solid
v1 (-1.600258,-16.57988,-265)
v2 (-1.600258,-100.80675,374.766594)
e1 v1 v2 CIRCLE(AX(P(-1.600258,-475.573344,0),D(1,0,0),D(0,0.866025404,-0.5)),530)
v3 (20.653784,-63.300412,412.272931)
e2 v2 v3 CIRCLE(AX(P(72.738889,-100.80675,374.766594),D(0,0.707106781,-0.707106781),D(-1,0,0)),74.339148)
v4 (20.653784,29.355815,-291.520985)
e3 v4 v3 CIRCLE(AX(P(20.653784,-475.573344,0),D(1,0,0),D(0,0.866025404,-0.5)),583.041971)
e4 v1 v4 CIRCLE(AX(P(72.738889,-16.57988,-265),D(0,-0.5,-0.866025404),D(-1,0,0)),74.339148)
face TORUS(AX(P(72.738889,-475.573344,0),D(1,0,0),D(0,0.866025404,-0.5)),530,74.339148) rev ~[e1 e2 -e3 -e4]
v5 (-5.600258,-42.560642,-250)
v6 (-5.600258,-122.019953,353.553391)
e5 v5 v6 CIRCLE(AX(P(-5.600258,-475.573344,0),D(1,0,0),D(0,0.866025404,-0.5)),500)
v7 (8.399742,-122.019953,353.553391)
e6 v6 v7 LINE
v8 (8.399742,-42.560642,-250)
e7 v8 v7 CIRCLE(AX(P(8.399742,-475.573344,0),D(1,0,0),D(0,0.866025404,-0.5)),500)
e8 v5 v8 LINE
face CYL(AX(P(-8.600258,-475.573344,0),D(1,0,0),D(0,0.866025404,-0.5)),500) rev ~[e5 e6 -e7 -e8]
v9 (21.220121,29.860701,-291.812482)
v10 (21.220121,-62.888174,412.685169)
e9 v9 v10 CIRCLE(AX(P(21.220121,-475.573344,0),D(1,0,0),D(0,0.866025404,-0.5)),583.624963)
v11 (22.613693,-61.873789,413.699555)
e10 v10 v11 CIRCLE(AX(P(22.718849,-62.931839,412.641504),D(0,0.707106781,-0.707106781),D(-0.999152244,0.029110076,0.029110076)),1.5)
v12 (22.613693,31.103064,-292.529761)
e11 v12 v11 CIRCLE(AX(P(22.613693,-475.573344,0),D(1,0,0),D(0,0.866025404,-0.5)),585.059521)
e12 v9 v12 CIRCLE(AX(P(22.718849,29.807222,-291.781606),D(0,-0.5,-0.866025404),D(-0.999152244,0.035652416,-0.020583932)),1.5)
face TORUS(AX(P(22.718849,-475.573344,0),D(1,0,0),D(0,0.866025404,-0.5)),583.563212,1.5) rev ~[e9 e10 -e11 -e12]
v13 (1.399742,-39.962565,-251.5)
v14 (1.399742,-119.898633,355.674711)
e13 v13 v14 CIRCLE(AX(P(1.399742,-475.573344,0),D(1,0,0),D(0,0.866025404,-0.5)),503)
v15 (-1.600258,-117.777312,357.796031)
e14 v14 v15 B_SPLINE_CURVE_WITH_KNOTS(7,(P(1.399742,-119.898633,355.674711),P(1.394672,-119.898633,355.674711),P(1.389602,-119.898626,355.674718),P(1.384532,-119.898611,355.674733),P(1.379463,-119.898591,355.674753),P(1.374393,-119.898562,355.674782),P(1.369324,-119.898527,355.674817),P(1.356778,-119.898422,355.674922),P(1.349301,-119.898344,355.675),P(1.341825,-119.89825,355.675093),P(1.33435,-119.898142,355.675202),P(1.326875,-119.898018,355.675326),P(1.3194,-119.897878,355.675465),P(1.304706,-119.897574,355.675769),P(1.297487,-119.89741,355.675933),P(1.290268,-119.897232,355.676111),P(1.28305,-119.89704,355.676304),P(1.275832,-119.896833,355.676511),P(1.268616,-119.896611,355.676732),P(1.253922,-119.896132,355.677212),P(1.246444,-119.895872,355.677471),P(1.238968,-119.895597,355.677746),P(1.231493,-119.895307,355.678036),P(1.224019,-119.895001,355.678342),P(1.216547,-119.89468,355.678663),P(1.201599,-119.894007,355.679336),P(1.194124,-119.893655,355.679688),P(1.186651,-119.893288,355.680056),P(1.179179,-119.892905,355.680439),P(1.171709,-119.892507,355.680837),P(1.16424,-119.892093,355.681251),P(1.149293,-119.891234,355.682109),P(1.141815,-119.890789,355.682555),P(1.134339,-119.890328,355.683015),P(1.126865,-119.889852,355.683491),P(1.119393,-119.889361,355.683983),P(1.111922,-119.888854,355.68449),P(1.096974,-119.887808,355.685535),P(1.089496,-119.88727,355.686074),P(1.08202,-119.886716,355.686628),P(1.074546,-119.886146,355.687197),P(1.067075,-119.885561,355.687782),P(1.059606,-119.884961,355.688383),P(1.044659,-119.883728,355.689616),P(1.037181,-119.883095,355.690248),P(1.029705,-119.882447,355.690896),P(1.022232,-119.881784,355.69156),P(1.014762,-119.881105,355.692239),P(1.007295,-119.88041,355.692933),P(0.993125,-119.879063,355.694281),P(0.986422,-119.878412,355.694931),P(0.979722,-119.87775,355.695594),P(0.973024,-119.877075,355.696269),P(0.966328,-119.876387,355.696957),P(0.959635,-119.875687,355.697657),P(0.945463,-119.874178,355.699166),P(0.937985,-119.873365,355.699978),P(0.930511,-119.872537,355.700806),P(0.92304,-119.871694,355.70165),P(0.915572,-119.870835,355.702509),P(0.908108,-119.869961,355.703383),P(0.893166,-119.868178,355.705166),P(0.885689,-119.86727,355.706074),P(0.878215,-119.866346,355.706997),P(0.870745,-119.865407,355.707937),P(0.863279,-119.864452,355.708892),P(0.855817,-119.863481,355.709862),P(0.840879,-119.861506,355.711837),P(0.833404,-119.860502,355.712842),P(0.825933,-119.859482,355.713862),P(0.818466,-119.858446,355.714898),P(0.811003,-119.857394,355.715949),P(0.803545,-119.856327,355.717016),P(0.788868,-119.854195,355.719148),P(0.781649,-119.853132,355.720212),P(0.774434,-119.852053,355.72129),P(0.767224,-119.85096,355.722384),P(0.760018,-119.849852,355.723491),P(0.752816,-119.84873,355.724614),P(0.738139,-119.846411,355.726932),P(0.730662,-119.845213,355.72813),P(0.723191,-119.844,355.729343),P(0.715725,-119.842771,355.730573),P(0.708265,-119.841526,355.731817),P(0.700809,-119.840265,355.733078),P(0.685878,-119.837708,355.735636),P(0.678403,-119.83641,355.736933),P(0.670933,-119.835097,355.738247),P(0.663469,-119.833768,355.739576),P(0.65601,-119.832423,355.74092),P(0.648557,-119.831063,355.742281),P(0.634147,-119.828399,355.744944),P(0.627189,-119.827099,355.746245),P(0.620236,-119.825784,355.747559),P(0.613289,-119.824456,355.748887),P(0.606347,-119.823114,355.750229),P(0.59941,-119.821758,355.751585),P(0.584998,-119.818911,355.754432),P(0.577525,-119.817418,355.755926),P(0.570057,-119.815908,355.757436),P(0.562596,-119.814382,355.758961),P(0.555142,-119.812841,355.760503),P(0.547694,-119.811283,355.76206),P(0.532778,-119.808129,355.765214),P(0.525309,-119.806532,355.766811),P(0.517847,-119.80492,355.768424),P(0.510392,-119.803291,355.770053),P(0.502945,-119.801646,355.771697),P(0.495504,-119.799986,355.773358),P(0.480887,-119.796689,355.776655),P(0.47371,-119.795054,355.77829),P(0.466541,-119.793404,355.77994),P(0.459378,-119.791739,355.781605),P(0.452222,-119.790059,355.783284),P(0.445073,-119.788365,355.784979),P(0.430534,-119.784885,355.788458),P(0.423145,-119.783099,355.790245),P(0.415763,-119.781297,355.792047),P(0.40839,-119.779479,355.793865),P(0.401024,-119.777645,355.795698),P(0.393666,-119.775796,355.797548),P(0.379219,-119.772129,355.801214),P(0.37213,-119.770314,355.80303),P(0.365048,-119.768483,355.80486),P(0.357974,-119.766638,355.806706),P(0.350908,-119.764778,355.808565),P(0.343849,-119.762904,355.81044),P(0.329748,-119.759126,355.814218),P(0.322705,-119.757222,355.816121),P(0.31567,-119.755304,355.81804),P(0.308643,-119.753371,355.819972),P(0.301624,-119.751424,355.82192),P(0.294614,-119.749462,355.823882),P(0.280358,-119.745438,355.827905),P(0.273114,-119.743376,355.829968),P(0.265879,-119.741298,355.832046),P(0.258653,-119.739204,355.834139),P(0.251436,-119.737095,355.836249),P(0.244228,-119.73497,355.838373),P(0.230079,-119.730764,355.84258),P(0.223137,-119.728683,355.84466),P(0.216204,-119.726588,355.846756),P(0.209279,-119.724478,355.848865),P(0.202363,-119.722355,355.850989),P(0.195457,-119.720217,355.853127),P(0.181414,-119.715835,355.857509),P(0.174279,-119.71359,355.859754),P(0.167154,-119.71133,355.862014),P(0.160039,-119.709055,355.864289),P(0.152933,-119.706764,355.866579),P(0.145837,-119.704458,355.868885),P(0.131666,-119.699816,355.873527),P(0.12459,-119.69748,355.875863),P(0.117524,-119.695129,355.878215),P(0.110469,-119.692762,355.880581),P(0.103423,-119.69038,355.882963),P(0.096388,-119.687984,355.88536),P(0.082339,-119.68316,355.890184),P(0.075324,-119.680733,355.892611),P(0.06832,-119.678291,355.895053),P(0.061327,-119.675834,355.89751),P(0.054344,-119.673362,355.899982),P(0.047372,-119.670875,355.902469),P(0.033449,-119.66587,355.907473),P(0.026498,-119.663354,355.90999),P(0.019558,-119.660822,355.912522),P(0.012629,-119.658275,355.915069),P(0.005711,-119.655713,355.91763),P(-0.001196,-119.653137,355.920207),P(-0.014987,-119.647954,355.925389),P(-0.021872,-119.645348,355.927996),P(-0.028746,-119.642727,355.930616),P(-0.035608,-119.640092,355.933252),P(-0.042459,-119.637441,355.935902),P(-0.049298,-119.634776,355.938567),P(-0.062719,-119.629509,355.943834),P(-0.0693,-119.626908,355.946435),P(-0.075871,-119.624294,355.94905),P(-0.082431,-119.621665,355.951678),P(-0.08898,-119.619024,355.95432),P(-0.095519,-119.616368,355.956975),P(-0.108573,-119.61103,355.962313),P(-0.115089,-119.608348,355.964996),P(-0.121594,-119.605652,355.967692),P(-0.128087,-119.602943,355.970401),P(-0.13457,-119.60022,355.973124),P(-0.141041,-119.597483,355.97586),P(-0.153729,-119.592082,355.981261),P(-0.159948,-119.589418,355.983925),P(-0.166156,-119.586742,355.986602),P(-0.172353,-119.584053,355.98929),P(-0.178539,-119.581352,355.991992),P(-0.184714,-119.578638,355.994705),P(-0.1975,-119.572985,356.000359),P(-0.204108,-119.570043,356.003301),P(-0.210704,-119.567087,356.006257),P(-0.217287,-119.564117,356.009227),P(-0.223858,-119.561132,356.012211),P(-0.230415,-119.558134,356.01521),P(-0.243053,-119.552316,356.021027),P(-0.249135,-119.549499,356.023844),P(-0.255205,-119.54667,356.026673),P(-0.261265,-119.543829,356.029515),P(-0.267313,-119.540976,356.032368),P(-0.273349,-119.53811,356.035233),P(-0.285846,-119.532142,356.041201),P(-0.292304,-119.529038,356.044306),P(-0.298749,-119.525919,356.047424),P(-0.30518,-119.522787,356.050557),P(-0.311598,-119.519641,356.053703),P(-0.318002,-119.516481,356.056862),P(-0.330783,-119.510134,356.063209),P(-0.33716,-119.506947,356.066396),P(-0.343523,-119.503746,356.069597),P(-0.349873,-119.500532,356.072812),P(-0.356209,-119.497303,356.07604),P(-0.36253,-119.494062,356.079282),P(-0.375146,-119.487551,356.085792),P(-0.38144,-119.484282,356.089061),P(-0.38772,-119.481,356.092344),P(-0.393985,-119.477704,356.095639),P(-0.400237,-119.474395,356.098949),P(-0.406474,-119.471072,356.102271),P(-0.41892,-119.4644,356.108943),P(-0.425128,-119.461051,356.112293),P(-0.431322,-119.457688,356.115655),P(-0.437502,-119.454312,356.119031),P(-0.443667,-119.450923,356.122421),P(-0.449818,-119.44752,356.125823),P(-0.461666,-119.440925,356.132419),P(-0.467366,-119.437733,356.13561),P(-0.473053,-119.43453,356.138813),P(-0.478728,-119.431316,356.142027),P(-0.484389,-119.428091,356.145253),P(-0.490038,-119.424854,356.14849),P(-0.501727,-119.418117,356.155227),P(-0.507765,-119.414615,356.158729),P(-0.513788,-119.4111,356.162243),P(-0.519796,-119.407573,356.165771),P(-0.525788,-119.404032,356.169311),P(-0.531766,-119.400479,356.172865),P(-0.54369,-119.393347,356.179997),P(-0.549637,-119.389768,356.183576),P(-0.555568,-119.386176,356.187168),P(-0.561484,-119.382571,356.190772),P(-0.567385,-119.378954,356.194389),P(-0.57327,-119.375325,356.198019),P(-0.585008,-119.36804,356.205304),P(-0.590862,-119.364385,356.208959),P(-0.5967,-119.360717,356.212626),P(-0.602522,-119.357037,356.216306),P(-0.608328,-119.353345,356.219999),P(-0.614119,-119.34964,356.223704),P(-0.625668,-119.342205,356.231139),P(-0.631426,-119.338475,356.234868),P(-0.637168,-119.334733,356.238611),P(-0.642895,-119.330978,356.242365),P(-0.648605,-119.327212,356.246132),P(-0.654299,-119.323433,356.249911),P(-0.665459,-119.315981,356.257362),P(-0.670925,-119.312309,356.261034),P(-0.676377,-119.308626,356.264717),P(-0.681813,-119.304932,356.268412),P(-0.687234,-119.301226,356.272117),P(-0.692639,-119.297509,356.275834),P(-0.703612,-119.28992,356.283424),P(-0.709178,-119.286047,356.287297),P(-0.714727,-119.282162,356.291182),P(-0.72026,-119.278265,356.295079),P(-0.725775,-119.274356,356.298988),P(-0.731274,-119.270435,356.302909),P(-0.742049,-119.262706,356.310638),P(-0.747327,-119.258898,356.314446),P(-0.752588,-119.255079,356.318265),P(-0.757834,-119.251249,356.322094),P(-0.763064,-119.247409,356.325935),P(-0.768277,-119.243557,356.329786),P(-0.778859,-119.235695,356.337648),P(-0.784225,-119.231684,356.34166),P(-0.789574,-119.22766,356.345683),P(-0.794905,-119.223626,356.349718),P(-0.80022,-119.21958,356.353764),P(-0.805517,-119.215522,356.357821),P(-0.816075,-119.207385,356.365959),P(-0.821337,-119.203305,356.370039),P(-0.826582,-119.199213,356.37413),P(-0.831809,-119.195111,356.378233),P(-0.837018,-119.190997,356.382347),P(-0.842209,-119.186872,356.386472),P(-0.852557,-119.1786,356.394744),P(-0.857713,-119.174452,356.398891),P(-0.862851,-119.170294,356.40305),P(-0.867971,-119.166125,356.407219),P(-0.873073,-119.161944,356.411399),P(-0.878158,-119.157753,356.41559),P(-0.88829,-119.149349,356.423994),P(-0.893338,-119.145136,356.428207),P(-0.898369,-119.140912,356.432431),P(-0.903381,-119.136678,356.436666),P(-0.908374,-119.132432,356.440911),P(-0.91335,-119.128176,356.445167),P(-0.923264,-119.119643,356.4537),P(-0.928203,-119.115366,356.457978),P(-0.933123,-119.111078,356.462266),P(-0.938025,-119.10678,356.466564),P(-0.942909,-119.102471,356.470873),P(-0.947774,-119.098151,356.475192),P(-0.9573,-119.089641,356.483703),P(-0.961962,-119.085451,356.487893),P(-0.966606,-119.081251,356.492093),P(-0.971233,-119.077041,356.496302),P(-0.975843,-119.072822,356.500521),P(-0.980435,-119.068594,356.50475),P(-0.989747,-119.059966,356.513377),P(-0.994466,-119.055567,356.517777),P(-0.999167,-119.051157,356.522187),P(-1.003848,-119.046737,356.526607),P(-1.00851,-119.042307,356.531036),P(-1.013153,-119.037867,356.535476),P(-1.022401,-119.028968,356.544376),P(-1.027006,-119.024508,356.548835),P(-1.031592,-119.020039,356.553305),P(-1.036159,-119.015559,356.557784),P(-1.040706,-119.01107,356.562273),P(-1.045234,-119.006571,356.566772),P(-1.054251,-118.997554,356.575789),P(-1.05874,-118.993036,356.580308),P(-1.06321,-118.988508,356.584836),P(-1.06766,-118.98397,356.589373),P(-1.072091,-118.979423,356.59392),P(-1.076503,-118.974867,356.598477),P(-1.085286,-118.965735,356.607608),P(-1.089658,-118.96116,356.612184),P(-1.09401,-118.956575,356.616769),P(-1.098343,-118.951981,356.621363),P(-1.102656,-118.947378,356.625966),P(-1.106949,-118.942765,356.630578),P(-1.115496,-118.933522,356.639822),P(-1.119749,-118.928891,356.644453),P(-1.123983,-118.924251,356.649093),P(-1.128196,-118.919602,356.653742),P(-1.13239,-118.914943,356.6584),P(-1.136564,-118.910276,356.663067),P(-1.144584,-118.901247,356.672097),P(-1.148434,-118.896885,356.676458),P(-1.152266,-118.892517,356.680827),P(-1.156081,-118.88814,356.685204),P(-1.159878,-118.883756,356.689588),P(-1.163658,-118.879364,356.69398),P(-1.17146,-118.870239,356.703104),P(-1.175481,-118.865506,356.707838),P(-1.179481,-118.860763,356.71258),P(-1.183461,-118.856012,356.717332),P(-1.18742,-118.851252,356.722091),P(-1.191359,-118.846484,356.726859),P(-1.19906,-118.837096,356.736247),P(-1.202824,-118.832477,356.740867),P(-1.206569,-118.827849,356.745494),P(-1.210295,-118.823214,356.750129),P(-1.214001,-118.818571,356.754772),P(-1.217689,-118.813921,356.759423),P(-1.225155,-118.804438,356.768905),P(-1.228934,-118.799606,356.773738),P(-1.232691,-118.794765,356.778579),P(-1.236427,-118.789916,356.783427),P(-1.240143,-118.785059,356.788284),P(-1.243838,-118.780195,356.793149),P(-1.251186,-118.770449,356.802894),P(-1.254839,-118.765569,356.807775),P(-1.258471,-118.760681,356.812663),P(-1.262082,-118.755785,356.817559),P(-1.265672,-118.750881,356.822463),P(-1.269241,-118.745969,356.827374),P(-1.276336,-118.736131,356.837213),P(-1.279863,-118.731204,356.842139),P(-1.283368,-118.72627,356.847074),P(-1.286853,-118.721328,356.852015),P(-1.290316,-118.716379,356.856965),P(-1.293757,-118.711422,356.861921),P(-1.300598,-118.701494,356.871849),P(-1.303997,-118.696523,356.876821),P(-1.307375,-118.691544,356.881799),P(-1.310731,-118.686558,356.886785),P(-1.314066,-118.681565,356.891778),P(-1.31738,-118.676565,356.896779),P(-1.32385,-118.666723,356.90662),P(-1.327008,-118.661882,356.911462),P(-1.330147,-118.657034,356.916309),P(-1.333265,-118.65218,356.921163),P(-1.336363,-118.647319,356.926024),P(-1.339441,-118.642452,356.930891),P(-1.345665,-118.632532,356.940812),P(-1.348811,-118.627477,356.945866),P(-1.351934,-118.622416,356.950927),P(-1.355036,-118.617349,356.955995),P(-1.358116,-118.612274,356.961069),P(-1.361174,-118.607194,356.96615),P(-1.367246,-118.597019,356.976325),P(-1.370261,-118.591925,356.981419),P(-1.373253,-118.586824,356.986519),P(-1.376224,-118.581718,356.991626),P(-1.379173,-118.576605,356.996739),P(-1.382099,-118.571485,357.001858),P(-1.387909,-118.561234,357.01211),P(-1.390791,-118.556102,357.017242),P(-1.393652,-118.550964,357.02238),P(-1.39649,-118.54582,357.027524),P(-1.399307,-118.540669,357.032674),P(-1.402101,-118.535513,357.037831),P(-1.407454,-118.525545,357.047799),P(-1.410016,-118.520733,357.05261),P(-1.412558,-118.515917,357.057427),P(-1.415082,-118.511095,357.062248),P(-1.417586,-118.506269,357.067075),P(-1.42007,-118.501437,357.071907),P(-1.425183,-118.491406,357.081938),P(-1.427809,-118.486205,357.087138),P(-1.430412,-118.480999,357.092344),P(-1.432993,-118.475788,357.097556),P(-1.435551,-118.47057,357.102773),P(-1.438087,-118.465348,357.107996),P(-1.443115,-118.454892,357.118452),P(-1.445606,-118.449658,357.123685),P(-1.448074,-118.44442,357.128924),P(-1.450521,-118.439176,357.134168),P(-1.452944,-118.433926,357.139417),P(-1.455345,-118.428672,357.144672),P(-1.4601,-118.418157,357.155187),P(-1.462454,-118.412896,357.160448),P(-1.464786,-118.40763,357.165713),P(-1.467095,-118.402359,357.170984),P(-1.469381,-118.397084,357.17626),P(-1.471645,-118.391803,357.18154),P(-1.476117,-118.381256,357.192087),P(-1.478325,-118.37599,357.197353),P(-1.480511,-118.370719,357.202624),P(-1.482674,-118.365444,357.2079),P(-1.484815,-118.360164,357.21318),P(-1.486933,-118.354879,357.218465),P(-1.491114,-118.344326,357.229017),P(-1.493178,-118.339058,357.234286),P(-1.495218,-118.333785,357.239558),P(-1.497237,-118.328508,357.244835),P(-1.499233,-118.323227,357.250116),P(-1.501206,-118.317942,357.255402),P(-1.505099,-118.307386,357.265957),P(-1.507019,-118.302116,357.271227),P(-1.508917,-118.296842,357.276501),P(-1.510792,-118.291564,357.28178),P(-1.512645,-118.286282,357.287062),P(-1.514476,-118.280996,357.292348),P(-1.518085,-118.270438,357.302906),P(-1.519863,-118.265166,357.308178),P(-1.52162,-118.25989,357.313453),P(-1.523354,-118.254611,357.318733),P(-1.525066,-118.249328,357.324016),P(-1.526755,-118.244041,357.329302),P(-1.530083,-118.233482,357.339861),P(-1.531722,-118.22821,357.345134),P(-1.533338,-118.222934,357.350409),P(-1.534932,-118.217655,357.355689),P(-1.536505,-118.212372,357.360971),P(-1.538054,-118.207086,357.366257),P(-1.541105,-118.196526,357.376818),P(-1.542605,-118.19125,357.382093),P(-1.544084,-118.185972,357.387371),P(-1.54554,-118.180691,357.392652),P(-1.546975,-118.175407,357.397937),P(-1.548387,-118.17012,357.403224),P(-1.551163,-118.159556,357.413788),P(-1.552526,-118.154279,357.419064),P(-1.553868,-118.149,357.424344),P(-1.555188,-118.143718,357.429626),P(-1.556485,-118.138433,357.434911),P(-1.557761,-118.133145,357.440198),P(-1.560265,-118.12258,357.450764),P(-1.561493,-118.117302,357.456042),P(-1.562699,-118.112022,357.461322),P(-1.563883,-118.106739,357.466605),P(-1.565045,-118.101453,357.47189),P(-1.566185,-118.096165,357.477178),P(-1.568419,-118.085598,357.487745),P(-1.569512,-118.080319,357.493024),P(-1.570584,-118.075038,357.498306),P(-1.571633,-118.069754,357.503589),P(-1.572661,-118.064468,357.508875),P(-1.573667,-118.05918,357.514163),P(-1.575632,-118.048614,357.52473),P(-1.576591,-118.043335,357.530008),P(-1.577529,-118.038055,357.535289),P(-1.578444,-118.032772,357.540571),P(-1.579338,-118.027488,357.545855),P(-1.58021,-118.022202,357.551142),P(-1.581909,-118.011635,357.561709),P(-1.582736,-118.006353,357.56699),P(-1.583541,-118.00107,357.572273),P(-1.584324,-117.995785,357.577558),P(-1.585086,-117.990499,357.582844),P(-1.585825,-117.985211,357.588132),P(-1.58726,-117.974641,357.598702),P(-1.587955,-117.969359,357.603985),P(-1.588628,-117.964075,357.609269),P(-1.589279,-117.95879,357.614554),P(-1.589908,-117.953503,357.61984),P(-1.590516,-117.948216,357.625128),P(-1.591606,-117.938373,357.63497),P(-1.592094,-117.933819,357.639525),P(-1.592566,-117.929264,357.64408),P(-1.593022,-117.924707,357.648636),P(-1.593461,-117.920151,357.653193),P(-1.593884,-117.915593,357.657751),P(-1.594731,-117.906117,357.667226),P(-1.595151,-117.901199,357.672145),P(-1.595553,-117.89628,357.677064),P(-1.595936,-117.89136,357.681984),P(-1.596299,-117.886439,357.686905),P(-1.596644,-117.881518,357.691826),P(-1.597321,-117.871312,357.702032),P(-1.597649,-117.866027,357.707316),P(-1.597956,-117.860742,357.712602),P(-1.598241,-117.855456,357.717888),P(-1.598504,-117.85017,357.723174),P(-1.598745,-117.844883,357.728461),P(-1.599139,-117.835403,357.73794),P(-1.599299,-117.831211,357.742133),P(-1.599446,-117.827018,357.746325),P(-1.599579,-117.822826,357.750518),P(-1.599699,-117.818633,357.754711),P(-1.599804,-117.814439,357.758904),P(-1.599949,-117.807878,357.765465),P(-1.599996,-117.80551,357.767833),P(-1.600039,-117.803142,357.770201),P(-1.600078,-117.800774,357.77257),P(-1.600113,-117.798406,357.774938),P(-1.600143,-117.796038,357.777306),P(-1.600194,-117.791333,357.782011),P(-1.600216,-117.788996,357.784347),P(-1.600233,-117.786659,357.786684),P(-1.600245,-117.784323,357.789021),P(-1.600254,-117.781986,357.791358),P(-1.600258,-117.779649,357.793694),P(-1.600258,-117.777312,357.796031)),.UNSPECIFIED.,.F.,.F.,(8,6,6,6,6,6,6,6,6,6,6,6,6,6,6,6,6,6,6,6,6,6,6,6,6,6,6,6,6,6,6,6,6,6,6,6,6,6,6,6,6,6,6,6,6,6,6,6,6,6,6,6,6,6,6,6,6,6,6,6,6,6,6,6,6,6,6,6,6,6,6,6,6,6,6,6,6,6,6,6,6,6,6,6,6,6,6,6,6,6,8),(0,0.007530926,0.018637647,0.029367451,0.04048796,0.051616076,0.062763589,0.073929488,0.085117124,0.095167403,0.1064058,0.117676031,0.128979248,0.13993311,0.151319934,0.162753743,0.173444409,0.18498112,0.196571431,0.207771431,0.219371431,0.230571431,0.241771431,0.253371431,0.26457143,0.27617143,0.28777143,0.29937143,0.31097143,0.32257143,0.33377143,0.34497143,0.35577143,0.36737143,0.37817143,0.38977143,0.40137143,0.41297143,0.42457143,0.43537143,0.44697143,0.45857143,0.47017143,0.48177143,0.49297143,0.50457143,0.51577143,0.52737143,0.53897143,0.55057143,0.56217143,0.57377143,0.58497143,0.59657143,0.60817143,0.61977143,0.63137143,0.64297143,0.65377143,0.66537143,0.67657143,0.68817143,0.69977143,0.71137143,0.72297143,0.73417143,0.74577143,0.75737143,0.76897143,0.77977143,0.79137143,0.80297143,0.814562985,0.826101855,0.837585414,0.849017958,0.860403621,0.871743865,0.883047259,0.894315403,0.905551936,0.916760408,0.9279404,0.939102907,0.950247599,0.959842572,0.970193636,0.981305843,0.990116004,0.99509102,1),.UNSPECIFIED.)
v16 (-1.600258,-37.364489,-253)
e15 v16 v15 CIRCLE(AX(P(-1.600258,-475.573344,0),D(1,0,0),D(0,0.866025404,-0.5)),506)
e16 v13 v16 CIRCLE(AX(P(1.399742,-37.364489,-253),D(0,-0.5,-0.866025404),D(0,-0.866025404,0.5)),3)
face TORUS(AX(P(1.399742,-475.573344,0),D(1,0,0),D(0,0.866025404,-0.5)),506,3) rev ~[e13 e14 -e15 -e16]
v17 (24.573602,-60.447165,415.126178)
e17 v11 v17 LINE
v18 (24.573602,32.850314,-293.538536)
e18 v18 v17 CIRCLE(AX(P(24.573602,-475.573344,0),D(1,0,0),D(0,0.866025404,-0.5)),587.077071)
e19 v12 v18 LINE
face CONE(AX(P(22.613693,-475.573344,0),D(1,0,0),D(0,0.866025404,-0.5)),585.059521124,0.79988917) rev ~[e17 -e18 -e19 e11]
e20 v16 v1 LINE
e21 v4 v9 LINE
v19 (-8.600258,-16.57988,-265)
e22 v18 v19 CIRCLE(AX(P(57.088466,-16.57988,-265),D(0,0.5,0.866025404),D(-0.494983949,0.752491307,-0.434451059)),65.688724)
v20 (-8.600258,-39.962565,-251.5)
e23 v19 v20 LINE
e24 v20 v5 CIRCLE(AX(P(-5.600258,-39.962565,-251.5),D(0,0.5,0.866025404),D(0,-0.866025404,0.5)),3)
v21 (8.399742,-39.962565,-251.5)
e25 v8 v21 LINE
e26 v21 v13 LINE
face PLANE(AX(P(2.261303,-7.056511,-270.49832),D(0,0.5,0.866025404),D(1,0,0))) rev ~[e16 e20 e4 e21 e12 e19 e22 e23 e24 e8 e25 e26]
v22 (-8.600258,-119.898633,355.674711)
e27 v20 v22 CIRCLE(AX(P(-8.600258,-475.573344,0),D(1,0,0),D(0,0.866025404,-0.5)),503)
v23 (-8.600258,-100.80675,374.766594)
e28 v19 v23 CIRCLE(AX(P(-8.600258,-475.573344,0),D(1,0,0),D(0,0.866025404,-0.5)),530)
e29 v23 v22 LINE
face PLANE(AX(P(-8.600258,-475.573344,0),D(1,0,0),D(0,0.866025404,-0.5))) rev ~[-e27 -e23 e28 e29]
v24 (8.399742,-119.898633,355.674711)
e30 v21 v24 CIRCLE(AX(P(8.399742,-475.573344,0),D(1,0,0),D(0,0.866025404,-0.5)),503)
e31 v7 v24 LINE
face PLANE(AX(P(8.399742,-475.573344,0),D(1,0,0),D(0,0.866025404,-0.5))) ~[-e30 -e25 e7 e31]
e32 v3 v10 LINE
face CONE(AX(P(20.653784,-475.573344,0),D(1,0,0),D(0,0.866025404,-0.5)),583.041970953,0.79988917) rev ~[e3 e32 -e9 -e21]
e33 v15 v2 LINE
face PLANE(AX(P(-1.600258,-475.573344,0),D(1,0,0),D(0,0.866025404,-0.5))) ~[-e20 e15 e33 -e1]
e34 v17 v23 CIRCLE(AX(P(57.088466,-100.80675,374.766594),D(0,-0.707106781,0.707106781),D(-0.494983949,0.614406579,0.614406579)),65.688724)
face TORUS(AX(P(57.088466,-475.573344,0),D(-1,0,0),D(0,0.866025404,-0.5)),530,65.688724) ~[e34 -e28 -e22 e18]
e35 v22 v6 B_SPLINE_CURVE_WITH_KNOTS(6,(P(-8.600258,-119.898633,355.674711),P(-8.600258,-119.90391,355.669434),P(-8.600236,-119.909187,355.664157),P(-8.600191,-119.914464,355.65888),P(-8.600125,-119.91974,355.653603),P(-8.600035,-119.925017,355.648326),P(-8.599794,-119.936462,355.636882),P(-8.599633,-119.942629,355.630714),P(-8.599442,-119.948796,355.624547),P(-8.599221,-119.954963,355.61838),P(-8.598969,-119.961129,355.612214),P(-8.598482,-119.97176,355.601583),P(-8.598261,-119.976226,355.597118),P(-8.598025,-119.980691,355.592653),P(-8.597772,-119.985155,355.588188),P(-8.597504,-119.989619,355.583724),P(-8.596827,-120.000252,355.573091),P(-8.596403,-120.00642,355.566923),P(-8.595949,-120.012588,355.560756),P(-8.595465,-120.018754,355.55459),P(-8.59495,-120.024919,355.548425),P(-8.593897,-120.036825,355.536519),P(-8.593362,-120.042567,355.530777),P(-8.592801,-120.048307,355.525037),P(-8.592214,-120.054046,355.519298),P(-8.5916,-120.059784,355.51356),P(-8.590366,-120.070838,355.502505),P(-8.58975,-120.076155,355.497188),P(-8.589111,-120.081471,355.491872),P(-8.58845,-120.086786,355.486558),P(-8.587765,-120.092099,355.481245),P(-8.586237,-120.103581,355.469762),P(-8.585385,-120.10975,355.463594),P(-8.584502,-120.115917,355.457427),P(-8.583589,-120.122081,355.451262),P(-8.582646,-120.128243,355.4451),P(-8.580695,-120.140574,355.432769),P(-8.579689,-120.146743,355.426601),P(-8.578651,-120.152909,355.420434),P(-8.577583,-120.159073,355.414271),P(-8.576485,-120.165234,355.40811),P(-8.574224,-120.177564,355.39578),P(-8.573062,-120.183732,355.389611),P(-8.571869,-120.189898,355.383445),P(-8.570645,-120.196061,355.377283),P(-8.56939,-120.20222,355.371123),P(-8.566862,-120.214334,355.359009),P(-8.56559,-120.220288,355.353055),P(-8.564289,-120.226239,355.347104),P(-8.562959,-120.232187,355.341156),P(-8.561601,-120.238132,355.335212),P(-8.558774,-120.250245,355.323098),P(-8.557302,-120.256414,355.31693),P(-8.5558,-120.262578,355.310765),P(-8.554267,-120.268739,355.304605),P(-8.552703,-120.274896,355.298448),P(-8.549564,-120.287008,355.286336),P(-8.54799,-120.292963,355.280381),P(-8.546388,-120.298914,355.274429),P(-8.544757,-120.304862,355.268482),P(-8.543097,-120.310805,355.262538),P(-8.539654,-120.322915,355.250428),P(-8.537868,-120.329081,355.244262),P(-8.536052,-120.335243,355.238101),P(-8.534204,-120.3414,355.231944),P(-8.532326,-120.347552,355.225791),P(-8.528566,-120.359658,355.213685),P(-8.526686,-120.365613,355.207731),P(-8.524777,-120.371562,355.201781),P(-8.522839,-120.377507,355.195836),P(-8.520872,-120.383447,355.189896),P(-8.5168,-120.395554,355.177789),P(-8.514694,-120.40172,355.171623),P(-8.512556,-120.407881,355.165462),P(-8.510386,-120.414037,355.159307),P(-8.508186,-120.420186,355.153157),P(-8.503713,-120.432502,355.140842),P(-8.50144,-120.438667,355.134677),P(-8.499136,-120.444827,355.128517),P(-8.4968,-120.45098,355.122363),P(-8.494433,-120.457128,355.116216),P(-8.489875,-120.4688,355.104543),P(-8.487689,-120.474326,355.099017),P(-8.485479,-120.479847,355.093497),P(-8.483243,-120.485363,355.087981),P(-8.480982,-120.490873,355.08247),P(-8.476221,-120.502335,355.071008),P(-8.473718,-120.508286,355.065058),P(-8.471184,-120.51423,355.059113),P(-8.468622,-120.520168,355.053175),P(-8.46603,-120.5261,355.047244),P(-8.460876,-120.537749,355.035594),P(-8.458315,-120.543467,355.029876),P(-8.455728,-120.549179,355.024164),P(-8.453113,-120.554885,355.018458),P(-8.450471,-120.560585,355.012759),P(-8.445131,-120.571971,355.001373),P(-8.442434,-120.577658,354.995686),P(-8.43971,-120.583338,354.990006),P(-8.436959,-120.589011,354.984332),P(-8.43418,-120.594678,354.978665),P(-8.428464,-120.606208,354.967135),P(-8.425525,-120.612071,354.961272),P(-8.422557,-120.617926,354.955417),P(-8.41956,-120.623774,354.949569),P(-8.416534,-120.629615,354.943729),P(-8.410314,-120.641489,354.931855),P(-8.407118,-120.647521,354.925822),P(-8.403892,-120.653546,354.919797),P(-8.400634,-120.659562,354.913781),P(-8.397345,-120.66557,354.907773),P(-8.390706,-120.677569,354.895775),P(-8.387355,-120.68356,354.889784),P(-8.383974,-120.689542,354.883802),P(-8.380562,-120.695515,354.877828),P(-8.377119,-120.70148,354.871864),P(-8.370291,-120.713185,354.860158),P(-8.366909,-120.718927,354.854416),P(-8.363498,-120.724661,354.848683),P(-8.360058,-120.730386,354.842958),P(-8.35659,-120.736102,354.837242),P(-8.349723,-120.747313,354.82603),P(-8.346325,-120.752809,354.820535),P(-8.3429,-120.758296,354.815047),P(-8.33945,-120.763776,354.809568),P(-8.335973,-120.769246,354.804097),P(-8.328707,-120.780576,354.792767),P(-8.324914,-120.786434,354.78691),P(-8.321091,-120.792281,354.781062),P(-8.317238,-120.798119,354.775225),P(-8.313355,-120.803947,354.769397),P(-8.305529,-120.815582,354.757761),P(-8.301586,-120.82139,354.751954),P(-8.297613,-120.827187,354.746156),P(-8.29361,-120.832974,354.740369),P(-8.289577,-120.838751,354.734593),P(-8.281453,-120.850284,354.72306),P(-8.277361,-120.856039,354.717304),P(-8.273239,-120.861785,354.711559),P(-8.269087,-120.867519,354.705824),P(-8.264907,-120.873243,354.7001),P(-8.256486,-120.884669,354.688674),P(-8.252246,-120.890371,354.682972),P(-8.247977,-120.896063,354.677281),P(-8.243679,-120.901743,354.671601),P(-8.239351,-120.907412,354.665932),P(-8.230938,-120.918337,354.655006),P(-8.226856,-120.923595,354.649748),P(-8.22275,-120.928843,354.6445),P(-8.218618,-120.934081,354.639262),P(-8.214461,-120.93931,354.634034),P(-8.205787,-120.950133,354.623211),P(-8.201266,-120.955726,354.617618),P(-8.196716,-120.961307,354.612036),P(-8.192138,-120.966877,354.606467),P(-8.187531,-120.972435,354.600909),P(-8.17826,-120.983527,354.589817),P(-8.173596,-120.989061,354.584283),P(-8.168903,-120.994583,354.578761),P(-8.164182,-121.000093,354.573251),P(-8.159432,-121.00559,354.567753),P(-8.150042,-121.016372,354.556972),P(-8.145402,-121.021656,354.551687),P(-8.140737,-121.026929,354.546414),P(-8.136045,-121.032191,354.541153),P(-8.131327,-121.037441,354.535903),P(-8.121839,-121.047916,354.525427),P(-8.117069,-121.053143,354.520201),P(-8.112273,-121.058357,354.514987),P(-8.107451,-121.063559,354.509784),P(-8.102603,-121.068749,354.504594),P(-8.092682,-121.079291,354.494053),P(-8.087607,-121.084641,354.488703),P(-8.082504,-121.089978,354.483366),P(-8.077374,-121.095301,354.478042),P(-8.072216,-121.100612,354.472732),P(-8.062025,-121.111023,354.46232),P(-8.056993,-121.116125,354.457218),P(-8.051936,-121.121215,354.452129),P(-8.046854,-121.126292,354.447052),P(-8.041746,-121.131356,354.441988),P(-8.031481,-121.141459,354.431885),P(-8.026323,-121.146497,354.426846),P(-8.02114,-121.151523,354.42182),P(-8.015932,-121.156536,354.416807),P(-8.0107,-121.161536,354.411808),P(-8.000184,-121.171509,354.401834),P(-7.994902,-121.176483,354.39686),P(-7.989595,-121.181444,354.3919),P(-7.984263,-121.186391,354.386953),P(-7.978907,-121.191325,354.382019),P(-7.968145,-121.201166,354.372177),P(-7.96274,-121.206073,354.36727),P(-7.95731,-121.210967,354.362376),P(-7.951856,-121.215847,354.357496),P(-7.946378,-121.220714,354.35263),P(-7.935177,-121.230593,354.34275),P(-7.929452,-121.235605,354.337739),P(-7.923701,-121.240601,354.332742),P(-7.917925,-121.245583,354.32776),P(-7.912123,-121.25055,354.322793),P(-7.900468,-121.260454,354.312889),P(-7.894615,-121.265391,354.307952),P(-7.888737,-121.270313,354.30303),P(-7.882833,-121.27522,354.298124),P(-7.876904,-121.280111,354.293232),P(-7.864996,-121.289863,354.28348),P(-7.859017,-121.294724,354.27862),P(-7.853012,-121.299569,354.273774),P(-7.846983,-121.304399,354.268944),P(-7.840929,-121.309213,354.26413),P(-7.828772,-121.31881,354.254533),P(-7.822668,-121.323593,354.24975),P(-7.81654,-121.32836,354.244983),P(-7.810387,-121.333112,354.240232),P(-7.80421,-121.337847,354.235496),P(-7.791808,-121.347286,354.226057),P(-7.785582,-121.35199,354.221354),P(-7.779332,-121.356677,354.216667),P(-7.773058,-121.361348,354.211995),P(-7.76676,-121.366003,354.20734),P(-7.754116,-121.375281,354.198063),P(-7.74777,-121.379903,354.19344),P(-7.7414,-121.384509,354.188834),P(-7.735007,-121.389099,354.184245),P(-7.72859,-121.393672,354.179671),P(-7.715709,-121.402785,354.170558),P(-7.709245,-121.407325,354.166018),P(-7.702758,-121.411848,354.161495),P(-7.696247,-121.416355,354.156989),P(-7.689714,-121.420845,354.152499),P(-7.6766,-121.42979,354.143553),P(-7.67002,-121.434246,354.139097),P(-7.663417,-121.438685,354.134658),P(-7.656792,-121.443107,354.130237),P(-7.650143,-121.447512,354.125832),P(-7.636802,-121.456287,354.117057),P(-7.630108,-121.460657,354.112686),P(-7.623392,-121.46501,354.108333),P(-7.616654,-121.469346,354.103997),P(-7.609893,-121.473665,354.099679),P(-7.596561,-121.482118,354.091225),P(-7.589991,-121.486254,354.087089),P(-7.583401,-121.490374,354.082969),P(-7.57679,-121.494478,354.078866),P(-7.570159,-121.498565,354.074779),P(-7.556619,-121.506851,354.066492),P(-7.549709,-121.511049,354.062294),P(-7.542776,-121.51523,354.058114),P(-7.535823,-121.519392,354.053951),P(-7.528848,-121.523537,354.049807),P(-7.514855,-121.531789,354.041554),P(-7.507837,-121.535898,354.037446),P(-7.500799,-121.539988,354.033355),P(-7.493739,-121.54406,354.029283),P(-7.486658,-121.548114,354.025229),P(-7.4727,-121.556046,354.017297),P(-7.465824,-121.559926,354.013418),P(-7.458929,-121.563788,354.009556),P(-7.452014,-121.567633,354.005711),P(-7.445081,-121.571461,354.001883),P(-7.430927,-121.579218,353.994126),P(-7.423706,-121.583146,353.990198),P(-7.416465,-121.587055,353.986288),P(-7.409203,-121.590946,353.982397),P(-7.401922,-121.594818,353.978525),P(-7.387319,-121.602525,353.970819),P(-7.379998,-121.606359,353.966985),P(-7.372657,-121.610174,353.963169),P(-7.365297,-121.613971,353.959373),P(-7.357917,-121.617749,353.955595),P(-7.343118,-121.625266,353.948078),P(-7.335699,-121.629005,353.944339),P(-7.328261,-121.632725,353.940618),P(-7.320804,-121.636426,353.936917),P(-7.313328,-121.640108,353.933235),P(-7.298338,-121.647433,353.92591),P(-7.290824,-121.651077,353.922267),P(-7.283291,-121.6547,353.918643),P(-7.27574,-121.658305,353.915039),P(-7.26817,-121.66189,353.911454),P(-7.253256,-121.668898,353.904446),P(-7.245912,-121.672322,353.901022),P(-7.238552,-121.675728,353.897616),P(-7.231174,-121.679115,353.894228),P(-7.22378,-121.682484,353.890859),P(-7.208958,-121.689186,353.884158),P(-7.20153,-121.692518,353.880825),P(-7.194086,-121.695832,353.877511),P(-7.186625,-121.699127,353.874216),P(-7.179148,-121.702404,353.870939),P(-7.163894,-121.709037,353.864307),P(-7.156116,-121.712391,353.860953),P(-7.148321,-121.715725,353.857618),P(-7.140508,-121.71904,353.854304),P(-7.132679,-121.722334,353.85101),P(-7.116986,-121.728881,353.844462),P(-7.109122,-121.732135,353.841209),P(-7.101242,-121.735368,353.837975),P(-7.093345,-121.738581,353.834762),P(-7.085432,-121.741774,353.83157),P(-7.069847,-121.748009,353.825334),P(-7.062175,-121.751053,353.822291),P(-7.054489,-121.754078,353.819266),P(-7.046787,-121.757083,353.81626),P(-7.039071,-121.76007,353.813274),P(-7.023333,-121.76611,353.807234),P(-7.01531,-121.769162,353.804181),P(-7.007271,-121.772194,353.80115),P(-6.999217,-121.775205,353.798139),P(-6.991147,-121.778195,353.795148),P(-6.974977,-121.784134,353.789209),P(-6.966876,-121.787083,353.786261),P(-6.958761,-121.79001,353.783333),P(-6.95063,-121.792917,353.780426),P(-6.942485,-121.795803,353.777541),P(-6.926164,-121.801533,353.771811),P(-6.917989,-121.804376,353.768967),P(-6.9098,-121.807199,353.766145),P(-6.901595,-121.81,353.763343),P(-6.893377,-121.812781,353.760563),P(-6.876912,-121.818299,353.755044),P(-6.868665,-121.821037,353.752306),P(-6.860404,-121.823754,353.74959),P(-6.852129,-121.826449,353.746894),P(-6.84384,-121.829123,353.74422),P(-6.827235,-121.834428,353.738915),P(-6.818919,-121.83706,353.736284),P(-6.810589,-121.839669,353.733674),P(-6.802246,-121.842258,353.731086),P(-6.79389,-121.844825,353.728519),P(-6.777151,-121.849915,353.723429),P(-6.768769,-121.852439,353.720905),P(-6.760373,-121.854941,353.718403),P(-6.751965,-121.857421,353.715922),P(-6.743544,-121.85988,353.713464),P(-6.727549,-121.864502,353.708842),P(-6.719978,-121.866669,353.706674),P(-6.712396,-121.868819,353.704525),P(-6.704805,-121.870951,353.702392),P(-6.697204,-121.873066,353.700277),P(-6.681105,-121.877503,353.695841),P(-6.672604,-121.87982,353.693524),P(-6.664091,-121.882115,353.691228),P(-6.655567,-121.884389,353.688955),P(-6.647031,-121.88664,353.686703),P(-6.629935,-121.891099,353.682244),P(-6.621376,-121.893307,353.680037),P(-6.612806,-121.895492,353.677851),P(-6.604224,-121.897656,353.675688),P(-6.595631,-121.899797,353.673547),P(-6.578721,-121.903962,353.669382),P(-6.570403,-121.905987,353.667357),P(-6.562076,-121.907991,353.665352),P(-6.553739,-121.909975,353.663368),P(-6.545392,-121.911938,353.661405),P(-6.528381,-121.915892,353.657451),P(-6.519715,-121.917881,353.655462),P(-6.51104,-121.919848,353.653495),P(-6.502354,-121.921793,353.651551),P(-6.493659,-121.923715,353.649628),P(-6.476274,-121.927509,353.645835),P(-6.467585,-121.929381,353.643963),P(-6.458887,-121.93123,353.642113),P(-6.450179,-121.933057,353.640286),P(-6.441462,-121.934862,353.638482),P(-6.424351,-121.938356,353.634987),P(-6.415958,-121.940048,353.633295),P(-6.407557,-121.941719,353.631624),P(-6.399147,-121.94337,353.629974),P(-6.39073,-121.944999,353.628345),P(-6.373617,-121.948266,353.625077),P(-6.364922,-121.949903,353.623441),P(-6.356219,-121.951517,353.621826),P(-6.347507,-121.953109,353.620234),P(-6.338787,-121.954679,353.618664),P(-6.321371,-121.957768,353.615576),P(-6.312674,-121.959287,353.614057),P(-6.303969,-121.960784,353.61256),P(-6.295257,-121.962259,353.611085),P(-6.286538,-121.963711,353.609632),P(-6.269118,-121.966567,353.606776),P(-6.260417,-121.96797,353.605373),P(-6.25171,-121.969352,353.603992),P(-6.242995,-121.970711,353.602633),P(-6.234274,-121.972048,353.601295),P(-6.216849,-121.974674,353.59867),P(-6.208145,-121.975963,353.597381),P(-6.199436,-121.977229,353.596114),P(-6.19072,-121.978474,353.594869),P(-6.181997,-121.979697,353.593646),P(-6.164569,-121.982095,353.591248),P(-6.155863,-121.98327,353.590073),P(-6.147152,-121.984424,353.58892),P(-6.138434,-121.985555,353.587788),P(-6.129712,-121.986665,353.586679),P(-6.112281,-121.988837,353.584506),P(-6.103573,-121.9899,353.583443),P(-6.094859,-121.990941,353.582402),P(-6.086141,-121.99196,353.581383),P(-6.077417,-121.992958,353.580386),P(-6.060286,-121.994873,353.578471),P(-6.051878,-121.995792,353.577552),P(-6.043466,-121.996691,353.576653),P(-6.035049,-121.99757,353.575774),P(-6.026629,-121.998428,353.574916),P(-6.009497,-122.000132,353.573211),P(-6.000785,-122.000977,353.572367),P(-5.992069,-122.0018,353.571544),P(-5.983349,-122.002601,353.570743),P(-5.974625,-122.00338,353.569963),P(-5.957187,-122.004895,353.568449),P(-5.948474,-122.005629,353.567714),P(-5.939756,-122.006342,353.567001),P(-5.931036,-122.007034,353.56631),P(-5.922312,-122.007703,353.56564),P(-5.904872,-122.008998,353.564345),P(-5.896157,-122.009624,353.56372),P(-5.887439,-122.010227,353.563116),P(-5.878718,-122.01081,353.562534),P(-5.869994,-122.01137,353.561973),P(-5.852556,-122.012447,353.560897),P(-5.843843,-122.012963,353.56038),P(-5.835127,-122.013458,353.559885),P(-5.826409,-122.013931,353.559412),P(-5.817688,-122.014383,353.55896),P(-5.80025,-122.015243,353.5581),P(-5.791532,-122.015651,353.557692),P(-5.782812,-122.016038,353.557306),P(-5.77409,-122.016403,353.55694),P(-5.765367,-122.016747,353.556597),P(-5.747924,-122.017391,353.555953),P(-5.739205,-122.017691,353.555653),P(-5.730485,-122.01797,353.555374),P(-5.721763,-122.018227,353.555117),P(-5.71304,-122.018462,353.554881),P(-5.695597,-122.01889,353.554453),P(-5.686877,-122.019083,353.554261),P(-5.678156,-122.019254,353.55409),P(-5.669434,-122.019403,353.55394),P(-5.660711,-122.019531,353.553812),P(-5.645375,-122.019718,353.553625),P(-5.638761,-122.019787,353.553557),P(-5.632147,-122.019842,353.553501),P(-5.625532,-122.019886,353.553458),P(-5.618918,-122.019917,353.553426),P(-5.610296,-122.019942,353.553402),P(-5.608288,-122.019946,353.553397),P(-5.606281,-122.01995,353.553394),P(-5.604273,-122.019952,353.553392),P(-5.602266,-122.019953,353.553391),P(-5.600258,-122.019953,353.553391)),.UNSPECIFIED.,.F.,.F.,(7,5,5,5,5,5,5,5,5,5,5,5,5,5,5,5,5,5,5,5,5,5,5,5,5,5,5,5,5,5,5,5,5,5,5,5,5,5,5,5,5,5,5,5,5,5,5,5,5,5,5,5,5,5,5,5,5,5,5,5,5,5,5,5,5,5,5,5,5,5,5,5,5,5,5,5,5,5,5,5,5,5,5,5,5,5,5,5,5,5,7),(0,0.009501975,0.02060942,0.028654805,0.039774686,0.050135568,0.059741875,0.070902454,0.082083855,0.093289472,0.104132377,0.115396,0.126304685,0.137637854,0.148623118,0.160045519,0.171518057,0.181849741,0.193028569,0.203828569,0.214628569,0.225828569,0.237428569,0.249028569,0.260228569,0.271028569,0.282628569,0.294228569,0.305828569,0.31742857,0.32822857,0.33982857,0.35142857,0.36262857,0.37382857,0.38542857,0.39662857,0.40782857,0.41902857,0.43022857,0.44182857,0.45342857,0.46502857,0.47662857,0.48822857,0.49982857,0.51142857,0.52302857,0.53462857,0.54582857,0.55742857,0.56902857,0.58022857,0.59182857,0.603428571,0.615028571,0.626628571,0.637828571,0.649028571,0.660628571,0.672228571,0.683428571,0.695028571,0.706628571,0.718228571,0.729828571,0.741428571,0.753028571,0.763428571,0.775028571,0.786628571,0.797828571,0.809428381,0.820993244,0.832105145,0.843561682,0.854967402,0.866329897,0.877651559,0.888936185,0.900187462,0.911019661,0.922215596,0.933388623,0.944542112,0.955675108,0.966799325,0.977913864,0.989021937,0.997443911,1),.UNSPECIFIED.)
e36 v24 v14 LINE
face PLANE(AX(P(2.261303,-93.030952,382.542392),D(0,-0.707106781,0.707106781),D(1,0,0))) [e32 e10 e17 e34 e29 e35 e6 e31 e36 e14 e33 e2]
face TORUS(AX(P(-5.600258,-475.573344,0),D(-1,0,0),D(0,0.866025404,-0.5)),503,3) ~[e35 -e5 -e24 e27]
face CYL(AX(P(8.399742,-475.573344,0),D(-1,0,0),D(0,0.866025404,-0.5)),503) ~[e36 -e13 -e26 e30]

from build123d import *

# Parameters (mm, degrees)
F1_ANGLE_BACK = 30
F1_ANGLE      = 75
F2_R          = 3
F3_R          = 3


with BuildPart() as f1:
    # F0 (on Top) → F1 (revolve)
    with BuildSketch(Plane.XY, mode=Mode.PRIVATE) as f1_sk:
        with BuildLine():
            ThreePointArc((24.5736017823, 111.5037277341), (0.2955596523, 87.4353562361), (-8.600258129, 54.4266564399))
            Line((-8.600258129, 54.4266564399), (-8.600258129, 24.4266564399))
            Line((-8.600258129, 24.4266564399), (8.399741871, 24.4266564399))
            Line((8.399741871, 24.4266564399), (8.399741871, 27.4266564399))
            Line((8.399741871, 27.4266564399), (-1.600258129, 27.4266564399))
            Line((-1.600258129, 27.4266564399), (-1.600258129, 54.4266564399))
            ThreePointArc((-1.600258129, 54.4266564399), (4.1886480826, 83.1872765912), (20.6537842751, 107.4686273932))
            Line((20.6537842751, 107.4686273932), (21.2201206089, 108.0516198232))
            ThreePointArc((21.2201206089, 108.0516198232), (21.6429306698, 109.0350473427), (22.6136930287, 109.4861775637))
            Line((22.6136930287, 109.4861775637), (24.5736017823, 111.5037277341))
        make_face()
    revolve(f1_sk.sketch.rotate(Axis((5.6419791654, -475.5733435601, 0), (1, 0, 0)), -F1_ANGLE_BACK), axis=Axis((5.6419791654, -475.5733435601, 0), (1, 0, 0)), revolution_arc=F1_ANGLE)

    # F2
    f2_edges = [f1.edges().sort_by_distance(p)[0] for p in [
        (-8.600258, 20.149087, 65.263096),
    ]]
    fillet(f2_edges, radius=F2_R)

    # F3
    f3_edges = [f1.edges().sort_by_distance(p)[0] for p in [
        (-1.600258, 23.123422, 65.654675),
    ]]
    fillet(f3_edges, radius=F3_R)


solid = f1.part
